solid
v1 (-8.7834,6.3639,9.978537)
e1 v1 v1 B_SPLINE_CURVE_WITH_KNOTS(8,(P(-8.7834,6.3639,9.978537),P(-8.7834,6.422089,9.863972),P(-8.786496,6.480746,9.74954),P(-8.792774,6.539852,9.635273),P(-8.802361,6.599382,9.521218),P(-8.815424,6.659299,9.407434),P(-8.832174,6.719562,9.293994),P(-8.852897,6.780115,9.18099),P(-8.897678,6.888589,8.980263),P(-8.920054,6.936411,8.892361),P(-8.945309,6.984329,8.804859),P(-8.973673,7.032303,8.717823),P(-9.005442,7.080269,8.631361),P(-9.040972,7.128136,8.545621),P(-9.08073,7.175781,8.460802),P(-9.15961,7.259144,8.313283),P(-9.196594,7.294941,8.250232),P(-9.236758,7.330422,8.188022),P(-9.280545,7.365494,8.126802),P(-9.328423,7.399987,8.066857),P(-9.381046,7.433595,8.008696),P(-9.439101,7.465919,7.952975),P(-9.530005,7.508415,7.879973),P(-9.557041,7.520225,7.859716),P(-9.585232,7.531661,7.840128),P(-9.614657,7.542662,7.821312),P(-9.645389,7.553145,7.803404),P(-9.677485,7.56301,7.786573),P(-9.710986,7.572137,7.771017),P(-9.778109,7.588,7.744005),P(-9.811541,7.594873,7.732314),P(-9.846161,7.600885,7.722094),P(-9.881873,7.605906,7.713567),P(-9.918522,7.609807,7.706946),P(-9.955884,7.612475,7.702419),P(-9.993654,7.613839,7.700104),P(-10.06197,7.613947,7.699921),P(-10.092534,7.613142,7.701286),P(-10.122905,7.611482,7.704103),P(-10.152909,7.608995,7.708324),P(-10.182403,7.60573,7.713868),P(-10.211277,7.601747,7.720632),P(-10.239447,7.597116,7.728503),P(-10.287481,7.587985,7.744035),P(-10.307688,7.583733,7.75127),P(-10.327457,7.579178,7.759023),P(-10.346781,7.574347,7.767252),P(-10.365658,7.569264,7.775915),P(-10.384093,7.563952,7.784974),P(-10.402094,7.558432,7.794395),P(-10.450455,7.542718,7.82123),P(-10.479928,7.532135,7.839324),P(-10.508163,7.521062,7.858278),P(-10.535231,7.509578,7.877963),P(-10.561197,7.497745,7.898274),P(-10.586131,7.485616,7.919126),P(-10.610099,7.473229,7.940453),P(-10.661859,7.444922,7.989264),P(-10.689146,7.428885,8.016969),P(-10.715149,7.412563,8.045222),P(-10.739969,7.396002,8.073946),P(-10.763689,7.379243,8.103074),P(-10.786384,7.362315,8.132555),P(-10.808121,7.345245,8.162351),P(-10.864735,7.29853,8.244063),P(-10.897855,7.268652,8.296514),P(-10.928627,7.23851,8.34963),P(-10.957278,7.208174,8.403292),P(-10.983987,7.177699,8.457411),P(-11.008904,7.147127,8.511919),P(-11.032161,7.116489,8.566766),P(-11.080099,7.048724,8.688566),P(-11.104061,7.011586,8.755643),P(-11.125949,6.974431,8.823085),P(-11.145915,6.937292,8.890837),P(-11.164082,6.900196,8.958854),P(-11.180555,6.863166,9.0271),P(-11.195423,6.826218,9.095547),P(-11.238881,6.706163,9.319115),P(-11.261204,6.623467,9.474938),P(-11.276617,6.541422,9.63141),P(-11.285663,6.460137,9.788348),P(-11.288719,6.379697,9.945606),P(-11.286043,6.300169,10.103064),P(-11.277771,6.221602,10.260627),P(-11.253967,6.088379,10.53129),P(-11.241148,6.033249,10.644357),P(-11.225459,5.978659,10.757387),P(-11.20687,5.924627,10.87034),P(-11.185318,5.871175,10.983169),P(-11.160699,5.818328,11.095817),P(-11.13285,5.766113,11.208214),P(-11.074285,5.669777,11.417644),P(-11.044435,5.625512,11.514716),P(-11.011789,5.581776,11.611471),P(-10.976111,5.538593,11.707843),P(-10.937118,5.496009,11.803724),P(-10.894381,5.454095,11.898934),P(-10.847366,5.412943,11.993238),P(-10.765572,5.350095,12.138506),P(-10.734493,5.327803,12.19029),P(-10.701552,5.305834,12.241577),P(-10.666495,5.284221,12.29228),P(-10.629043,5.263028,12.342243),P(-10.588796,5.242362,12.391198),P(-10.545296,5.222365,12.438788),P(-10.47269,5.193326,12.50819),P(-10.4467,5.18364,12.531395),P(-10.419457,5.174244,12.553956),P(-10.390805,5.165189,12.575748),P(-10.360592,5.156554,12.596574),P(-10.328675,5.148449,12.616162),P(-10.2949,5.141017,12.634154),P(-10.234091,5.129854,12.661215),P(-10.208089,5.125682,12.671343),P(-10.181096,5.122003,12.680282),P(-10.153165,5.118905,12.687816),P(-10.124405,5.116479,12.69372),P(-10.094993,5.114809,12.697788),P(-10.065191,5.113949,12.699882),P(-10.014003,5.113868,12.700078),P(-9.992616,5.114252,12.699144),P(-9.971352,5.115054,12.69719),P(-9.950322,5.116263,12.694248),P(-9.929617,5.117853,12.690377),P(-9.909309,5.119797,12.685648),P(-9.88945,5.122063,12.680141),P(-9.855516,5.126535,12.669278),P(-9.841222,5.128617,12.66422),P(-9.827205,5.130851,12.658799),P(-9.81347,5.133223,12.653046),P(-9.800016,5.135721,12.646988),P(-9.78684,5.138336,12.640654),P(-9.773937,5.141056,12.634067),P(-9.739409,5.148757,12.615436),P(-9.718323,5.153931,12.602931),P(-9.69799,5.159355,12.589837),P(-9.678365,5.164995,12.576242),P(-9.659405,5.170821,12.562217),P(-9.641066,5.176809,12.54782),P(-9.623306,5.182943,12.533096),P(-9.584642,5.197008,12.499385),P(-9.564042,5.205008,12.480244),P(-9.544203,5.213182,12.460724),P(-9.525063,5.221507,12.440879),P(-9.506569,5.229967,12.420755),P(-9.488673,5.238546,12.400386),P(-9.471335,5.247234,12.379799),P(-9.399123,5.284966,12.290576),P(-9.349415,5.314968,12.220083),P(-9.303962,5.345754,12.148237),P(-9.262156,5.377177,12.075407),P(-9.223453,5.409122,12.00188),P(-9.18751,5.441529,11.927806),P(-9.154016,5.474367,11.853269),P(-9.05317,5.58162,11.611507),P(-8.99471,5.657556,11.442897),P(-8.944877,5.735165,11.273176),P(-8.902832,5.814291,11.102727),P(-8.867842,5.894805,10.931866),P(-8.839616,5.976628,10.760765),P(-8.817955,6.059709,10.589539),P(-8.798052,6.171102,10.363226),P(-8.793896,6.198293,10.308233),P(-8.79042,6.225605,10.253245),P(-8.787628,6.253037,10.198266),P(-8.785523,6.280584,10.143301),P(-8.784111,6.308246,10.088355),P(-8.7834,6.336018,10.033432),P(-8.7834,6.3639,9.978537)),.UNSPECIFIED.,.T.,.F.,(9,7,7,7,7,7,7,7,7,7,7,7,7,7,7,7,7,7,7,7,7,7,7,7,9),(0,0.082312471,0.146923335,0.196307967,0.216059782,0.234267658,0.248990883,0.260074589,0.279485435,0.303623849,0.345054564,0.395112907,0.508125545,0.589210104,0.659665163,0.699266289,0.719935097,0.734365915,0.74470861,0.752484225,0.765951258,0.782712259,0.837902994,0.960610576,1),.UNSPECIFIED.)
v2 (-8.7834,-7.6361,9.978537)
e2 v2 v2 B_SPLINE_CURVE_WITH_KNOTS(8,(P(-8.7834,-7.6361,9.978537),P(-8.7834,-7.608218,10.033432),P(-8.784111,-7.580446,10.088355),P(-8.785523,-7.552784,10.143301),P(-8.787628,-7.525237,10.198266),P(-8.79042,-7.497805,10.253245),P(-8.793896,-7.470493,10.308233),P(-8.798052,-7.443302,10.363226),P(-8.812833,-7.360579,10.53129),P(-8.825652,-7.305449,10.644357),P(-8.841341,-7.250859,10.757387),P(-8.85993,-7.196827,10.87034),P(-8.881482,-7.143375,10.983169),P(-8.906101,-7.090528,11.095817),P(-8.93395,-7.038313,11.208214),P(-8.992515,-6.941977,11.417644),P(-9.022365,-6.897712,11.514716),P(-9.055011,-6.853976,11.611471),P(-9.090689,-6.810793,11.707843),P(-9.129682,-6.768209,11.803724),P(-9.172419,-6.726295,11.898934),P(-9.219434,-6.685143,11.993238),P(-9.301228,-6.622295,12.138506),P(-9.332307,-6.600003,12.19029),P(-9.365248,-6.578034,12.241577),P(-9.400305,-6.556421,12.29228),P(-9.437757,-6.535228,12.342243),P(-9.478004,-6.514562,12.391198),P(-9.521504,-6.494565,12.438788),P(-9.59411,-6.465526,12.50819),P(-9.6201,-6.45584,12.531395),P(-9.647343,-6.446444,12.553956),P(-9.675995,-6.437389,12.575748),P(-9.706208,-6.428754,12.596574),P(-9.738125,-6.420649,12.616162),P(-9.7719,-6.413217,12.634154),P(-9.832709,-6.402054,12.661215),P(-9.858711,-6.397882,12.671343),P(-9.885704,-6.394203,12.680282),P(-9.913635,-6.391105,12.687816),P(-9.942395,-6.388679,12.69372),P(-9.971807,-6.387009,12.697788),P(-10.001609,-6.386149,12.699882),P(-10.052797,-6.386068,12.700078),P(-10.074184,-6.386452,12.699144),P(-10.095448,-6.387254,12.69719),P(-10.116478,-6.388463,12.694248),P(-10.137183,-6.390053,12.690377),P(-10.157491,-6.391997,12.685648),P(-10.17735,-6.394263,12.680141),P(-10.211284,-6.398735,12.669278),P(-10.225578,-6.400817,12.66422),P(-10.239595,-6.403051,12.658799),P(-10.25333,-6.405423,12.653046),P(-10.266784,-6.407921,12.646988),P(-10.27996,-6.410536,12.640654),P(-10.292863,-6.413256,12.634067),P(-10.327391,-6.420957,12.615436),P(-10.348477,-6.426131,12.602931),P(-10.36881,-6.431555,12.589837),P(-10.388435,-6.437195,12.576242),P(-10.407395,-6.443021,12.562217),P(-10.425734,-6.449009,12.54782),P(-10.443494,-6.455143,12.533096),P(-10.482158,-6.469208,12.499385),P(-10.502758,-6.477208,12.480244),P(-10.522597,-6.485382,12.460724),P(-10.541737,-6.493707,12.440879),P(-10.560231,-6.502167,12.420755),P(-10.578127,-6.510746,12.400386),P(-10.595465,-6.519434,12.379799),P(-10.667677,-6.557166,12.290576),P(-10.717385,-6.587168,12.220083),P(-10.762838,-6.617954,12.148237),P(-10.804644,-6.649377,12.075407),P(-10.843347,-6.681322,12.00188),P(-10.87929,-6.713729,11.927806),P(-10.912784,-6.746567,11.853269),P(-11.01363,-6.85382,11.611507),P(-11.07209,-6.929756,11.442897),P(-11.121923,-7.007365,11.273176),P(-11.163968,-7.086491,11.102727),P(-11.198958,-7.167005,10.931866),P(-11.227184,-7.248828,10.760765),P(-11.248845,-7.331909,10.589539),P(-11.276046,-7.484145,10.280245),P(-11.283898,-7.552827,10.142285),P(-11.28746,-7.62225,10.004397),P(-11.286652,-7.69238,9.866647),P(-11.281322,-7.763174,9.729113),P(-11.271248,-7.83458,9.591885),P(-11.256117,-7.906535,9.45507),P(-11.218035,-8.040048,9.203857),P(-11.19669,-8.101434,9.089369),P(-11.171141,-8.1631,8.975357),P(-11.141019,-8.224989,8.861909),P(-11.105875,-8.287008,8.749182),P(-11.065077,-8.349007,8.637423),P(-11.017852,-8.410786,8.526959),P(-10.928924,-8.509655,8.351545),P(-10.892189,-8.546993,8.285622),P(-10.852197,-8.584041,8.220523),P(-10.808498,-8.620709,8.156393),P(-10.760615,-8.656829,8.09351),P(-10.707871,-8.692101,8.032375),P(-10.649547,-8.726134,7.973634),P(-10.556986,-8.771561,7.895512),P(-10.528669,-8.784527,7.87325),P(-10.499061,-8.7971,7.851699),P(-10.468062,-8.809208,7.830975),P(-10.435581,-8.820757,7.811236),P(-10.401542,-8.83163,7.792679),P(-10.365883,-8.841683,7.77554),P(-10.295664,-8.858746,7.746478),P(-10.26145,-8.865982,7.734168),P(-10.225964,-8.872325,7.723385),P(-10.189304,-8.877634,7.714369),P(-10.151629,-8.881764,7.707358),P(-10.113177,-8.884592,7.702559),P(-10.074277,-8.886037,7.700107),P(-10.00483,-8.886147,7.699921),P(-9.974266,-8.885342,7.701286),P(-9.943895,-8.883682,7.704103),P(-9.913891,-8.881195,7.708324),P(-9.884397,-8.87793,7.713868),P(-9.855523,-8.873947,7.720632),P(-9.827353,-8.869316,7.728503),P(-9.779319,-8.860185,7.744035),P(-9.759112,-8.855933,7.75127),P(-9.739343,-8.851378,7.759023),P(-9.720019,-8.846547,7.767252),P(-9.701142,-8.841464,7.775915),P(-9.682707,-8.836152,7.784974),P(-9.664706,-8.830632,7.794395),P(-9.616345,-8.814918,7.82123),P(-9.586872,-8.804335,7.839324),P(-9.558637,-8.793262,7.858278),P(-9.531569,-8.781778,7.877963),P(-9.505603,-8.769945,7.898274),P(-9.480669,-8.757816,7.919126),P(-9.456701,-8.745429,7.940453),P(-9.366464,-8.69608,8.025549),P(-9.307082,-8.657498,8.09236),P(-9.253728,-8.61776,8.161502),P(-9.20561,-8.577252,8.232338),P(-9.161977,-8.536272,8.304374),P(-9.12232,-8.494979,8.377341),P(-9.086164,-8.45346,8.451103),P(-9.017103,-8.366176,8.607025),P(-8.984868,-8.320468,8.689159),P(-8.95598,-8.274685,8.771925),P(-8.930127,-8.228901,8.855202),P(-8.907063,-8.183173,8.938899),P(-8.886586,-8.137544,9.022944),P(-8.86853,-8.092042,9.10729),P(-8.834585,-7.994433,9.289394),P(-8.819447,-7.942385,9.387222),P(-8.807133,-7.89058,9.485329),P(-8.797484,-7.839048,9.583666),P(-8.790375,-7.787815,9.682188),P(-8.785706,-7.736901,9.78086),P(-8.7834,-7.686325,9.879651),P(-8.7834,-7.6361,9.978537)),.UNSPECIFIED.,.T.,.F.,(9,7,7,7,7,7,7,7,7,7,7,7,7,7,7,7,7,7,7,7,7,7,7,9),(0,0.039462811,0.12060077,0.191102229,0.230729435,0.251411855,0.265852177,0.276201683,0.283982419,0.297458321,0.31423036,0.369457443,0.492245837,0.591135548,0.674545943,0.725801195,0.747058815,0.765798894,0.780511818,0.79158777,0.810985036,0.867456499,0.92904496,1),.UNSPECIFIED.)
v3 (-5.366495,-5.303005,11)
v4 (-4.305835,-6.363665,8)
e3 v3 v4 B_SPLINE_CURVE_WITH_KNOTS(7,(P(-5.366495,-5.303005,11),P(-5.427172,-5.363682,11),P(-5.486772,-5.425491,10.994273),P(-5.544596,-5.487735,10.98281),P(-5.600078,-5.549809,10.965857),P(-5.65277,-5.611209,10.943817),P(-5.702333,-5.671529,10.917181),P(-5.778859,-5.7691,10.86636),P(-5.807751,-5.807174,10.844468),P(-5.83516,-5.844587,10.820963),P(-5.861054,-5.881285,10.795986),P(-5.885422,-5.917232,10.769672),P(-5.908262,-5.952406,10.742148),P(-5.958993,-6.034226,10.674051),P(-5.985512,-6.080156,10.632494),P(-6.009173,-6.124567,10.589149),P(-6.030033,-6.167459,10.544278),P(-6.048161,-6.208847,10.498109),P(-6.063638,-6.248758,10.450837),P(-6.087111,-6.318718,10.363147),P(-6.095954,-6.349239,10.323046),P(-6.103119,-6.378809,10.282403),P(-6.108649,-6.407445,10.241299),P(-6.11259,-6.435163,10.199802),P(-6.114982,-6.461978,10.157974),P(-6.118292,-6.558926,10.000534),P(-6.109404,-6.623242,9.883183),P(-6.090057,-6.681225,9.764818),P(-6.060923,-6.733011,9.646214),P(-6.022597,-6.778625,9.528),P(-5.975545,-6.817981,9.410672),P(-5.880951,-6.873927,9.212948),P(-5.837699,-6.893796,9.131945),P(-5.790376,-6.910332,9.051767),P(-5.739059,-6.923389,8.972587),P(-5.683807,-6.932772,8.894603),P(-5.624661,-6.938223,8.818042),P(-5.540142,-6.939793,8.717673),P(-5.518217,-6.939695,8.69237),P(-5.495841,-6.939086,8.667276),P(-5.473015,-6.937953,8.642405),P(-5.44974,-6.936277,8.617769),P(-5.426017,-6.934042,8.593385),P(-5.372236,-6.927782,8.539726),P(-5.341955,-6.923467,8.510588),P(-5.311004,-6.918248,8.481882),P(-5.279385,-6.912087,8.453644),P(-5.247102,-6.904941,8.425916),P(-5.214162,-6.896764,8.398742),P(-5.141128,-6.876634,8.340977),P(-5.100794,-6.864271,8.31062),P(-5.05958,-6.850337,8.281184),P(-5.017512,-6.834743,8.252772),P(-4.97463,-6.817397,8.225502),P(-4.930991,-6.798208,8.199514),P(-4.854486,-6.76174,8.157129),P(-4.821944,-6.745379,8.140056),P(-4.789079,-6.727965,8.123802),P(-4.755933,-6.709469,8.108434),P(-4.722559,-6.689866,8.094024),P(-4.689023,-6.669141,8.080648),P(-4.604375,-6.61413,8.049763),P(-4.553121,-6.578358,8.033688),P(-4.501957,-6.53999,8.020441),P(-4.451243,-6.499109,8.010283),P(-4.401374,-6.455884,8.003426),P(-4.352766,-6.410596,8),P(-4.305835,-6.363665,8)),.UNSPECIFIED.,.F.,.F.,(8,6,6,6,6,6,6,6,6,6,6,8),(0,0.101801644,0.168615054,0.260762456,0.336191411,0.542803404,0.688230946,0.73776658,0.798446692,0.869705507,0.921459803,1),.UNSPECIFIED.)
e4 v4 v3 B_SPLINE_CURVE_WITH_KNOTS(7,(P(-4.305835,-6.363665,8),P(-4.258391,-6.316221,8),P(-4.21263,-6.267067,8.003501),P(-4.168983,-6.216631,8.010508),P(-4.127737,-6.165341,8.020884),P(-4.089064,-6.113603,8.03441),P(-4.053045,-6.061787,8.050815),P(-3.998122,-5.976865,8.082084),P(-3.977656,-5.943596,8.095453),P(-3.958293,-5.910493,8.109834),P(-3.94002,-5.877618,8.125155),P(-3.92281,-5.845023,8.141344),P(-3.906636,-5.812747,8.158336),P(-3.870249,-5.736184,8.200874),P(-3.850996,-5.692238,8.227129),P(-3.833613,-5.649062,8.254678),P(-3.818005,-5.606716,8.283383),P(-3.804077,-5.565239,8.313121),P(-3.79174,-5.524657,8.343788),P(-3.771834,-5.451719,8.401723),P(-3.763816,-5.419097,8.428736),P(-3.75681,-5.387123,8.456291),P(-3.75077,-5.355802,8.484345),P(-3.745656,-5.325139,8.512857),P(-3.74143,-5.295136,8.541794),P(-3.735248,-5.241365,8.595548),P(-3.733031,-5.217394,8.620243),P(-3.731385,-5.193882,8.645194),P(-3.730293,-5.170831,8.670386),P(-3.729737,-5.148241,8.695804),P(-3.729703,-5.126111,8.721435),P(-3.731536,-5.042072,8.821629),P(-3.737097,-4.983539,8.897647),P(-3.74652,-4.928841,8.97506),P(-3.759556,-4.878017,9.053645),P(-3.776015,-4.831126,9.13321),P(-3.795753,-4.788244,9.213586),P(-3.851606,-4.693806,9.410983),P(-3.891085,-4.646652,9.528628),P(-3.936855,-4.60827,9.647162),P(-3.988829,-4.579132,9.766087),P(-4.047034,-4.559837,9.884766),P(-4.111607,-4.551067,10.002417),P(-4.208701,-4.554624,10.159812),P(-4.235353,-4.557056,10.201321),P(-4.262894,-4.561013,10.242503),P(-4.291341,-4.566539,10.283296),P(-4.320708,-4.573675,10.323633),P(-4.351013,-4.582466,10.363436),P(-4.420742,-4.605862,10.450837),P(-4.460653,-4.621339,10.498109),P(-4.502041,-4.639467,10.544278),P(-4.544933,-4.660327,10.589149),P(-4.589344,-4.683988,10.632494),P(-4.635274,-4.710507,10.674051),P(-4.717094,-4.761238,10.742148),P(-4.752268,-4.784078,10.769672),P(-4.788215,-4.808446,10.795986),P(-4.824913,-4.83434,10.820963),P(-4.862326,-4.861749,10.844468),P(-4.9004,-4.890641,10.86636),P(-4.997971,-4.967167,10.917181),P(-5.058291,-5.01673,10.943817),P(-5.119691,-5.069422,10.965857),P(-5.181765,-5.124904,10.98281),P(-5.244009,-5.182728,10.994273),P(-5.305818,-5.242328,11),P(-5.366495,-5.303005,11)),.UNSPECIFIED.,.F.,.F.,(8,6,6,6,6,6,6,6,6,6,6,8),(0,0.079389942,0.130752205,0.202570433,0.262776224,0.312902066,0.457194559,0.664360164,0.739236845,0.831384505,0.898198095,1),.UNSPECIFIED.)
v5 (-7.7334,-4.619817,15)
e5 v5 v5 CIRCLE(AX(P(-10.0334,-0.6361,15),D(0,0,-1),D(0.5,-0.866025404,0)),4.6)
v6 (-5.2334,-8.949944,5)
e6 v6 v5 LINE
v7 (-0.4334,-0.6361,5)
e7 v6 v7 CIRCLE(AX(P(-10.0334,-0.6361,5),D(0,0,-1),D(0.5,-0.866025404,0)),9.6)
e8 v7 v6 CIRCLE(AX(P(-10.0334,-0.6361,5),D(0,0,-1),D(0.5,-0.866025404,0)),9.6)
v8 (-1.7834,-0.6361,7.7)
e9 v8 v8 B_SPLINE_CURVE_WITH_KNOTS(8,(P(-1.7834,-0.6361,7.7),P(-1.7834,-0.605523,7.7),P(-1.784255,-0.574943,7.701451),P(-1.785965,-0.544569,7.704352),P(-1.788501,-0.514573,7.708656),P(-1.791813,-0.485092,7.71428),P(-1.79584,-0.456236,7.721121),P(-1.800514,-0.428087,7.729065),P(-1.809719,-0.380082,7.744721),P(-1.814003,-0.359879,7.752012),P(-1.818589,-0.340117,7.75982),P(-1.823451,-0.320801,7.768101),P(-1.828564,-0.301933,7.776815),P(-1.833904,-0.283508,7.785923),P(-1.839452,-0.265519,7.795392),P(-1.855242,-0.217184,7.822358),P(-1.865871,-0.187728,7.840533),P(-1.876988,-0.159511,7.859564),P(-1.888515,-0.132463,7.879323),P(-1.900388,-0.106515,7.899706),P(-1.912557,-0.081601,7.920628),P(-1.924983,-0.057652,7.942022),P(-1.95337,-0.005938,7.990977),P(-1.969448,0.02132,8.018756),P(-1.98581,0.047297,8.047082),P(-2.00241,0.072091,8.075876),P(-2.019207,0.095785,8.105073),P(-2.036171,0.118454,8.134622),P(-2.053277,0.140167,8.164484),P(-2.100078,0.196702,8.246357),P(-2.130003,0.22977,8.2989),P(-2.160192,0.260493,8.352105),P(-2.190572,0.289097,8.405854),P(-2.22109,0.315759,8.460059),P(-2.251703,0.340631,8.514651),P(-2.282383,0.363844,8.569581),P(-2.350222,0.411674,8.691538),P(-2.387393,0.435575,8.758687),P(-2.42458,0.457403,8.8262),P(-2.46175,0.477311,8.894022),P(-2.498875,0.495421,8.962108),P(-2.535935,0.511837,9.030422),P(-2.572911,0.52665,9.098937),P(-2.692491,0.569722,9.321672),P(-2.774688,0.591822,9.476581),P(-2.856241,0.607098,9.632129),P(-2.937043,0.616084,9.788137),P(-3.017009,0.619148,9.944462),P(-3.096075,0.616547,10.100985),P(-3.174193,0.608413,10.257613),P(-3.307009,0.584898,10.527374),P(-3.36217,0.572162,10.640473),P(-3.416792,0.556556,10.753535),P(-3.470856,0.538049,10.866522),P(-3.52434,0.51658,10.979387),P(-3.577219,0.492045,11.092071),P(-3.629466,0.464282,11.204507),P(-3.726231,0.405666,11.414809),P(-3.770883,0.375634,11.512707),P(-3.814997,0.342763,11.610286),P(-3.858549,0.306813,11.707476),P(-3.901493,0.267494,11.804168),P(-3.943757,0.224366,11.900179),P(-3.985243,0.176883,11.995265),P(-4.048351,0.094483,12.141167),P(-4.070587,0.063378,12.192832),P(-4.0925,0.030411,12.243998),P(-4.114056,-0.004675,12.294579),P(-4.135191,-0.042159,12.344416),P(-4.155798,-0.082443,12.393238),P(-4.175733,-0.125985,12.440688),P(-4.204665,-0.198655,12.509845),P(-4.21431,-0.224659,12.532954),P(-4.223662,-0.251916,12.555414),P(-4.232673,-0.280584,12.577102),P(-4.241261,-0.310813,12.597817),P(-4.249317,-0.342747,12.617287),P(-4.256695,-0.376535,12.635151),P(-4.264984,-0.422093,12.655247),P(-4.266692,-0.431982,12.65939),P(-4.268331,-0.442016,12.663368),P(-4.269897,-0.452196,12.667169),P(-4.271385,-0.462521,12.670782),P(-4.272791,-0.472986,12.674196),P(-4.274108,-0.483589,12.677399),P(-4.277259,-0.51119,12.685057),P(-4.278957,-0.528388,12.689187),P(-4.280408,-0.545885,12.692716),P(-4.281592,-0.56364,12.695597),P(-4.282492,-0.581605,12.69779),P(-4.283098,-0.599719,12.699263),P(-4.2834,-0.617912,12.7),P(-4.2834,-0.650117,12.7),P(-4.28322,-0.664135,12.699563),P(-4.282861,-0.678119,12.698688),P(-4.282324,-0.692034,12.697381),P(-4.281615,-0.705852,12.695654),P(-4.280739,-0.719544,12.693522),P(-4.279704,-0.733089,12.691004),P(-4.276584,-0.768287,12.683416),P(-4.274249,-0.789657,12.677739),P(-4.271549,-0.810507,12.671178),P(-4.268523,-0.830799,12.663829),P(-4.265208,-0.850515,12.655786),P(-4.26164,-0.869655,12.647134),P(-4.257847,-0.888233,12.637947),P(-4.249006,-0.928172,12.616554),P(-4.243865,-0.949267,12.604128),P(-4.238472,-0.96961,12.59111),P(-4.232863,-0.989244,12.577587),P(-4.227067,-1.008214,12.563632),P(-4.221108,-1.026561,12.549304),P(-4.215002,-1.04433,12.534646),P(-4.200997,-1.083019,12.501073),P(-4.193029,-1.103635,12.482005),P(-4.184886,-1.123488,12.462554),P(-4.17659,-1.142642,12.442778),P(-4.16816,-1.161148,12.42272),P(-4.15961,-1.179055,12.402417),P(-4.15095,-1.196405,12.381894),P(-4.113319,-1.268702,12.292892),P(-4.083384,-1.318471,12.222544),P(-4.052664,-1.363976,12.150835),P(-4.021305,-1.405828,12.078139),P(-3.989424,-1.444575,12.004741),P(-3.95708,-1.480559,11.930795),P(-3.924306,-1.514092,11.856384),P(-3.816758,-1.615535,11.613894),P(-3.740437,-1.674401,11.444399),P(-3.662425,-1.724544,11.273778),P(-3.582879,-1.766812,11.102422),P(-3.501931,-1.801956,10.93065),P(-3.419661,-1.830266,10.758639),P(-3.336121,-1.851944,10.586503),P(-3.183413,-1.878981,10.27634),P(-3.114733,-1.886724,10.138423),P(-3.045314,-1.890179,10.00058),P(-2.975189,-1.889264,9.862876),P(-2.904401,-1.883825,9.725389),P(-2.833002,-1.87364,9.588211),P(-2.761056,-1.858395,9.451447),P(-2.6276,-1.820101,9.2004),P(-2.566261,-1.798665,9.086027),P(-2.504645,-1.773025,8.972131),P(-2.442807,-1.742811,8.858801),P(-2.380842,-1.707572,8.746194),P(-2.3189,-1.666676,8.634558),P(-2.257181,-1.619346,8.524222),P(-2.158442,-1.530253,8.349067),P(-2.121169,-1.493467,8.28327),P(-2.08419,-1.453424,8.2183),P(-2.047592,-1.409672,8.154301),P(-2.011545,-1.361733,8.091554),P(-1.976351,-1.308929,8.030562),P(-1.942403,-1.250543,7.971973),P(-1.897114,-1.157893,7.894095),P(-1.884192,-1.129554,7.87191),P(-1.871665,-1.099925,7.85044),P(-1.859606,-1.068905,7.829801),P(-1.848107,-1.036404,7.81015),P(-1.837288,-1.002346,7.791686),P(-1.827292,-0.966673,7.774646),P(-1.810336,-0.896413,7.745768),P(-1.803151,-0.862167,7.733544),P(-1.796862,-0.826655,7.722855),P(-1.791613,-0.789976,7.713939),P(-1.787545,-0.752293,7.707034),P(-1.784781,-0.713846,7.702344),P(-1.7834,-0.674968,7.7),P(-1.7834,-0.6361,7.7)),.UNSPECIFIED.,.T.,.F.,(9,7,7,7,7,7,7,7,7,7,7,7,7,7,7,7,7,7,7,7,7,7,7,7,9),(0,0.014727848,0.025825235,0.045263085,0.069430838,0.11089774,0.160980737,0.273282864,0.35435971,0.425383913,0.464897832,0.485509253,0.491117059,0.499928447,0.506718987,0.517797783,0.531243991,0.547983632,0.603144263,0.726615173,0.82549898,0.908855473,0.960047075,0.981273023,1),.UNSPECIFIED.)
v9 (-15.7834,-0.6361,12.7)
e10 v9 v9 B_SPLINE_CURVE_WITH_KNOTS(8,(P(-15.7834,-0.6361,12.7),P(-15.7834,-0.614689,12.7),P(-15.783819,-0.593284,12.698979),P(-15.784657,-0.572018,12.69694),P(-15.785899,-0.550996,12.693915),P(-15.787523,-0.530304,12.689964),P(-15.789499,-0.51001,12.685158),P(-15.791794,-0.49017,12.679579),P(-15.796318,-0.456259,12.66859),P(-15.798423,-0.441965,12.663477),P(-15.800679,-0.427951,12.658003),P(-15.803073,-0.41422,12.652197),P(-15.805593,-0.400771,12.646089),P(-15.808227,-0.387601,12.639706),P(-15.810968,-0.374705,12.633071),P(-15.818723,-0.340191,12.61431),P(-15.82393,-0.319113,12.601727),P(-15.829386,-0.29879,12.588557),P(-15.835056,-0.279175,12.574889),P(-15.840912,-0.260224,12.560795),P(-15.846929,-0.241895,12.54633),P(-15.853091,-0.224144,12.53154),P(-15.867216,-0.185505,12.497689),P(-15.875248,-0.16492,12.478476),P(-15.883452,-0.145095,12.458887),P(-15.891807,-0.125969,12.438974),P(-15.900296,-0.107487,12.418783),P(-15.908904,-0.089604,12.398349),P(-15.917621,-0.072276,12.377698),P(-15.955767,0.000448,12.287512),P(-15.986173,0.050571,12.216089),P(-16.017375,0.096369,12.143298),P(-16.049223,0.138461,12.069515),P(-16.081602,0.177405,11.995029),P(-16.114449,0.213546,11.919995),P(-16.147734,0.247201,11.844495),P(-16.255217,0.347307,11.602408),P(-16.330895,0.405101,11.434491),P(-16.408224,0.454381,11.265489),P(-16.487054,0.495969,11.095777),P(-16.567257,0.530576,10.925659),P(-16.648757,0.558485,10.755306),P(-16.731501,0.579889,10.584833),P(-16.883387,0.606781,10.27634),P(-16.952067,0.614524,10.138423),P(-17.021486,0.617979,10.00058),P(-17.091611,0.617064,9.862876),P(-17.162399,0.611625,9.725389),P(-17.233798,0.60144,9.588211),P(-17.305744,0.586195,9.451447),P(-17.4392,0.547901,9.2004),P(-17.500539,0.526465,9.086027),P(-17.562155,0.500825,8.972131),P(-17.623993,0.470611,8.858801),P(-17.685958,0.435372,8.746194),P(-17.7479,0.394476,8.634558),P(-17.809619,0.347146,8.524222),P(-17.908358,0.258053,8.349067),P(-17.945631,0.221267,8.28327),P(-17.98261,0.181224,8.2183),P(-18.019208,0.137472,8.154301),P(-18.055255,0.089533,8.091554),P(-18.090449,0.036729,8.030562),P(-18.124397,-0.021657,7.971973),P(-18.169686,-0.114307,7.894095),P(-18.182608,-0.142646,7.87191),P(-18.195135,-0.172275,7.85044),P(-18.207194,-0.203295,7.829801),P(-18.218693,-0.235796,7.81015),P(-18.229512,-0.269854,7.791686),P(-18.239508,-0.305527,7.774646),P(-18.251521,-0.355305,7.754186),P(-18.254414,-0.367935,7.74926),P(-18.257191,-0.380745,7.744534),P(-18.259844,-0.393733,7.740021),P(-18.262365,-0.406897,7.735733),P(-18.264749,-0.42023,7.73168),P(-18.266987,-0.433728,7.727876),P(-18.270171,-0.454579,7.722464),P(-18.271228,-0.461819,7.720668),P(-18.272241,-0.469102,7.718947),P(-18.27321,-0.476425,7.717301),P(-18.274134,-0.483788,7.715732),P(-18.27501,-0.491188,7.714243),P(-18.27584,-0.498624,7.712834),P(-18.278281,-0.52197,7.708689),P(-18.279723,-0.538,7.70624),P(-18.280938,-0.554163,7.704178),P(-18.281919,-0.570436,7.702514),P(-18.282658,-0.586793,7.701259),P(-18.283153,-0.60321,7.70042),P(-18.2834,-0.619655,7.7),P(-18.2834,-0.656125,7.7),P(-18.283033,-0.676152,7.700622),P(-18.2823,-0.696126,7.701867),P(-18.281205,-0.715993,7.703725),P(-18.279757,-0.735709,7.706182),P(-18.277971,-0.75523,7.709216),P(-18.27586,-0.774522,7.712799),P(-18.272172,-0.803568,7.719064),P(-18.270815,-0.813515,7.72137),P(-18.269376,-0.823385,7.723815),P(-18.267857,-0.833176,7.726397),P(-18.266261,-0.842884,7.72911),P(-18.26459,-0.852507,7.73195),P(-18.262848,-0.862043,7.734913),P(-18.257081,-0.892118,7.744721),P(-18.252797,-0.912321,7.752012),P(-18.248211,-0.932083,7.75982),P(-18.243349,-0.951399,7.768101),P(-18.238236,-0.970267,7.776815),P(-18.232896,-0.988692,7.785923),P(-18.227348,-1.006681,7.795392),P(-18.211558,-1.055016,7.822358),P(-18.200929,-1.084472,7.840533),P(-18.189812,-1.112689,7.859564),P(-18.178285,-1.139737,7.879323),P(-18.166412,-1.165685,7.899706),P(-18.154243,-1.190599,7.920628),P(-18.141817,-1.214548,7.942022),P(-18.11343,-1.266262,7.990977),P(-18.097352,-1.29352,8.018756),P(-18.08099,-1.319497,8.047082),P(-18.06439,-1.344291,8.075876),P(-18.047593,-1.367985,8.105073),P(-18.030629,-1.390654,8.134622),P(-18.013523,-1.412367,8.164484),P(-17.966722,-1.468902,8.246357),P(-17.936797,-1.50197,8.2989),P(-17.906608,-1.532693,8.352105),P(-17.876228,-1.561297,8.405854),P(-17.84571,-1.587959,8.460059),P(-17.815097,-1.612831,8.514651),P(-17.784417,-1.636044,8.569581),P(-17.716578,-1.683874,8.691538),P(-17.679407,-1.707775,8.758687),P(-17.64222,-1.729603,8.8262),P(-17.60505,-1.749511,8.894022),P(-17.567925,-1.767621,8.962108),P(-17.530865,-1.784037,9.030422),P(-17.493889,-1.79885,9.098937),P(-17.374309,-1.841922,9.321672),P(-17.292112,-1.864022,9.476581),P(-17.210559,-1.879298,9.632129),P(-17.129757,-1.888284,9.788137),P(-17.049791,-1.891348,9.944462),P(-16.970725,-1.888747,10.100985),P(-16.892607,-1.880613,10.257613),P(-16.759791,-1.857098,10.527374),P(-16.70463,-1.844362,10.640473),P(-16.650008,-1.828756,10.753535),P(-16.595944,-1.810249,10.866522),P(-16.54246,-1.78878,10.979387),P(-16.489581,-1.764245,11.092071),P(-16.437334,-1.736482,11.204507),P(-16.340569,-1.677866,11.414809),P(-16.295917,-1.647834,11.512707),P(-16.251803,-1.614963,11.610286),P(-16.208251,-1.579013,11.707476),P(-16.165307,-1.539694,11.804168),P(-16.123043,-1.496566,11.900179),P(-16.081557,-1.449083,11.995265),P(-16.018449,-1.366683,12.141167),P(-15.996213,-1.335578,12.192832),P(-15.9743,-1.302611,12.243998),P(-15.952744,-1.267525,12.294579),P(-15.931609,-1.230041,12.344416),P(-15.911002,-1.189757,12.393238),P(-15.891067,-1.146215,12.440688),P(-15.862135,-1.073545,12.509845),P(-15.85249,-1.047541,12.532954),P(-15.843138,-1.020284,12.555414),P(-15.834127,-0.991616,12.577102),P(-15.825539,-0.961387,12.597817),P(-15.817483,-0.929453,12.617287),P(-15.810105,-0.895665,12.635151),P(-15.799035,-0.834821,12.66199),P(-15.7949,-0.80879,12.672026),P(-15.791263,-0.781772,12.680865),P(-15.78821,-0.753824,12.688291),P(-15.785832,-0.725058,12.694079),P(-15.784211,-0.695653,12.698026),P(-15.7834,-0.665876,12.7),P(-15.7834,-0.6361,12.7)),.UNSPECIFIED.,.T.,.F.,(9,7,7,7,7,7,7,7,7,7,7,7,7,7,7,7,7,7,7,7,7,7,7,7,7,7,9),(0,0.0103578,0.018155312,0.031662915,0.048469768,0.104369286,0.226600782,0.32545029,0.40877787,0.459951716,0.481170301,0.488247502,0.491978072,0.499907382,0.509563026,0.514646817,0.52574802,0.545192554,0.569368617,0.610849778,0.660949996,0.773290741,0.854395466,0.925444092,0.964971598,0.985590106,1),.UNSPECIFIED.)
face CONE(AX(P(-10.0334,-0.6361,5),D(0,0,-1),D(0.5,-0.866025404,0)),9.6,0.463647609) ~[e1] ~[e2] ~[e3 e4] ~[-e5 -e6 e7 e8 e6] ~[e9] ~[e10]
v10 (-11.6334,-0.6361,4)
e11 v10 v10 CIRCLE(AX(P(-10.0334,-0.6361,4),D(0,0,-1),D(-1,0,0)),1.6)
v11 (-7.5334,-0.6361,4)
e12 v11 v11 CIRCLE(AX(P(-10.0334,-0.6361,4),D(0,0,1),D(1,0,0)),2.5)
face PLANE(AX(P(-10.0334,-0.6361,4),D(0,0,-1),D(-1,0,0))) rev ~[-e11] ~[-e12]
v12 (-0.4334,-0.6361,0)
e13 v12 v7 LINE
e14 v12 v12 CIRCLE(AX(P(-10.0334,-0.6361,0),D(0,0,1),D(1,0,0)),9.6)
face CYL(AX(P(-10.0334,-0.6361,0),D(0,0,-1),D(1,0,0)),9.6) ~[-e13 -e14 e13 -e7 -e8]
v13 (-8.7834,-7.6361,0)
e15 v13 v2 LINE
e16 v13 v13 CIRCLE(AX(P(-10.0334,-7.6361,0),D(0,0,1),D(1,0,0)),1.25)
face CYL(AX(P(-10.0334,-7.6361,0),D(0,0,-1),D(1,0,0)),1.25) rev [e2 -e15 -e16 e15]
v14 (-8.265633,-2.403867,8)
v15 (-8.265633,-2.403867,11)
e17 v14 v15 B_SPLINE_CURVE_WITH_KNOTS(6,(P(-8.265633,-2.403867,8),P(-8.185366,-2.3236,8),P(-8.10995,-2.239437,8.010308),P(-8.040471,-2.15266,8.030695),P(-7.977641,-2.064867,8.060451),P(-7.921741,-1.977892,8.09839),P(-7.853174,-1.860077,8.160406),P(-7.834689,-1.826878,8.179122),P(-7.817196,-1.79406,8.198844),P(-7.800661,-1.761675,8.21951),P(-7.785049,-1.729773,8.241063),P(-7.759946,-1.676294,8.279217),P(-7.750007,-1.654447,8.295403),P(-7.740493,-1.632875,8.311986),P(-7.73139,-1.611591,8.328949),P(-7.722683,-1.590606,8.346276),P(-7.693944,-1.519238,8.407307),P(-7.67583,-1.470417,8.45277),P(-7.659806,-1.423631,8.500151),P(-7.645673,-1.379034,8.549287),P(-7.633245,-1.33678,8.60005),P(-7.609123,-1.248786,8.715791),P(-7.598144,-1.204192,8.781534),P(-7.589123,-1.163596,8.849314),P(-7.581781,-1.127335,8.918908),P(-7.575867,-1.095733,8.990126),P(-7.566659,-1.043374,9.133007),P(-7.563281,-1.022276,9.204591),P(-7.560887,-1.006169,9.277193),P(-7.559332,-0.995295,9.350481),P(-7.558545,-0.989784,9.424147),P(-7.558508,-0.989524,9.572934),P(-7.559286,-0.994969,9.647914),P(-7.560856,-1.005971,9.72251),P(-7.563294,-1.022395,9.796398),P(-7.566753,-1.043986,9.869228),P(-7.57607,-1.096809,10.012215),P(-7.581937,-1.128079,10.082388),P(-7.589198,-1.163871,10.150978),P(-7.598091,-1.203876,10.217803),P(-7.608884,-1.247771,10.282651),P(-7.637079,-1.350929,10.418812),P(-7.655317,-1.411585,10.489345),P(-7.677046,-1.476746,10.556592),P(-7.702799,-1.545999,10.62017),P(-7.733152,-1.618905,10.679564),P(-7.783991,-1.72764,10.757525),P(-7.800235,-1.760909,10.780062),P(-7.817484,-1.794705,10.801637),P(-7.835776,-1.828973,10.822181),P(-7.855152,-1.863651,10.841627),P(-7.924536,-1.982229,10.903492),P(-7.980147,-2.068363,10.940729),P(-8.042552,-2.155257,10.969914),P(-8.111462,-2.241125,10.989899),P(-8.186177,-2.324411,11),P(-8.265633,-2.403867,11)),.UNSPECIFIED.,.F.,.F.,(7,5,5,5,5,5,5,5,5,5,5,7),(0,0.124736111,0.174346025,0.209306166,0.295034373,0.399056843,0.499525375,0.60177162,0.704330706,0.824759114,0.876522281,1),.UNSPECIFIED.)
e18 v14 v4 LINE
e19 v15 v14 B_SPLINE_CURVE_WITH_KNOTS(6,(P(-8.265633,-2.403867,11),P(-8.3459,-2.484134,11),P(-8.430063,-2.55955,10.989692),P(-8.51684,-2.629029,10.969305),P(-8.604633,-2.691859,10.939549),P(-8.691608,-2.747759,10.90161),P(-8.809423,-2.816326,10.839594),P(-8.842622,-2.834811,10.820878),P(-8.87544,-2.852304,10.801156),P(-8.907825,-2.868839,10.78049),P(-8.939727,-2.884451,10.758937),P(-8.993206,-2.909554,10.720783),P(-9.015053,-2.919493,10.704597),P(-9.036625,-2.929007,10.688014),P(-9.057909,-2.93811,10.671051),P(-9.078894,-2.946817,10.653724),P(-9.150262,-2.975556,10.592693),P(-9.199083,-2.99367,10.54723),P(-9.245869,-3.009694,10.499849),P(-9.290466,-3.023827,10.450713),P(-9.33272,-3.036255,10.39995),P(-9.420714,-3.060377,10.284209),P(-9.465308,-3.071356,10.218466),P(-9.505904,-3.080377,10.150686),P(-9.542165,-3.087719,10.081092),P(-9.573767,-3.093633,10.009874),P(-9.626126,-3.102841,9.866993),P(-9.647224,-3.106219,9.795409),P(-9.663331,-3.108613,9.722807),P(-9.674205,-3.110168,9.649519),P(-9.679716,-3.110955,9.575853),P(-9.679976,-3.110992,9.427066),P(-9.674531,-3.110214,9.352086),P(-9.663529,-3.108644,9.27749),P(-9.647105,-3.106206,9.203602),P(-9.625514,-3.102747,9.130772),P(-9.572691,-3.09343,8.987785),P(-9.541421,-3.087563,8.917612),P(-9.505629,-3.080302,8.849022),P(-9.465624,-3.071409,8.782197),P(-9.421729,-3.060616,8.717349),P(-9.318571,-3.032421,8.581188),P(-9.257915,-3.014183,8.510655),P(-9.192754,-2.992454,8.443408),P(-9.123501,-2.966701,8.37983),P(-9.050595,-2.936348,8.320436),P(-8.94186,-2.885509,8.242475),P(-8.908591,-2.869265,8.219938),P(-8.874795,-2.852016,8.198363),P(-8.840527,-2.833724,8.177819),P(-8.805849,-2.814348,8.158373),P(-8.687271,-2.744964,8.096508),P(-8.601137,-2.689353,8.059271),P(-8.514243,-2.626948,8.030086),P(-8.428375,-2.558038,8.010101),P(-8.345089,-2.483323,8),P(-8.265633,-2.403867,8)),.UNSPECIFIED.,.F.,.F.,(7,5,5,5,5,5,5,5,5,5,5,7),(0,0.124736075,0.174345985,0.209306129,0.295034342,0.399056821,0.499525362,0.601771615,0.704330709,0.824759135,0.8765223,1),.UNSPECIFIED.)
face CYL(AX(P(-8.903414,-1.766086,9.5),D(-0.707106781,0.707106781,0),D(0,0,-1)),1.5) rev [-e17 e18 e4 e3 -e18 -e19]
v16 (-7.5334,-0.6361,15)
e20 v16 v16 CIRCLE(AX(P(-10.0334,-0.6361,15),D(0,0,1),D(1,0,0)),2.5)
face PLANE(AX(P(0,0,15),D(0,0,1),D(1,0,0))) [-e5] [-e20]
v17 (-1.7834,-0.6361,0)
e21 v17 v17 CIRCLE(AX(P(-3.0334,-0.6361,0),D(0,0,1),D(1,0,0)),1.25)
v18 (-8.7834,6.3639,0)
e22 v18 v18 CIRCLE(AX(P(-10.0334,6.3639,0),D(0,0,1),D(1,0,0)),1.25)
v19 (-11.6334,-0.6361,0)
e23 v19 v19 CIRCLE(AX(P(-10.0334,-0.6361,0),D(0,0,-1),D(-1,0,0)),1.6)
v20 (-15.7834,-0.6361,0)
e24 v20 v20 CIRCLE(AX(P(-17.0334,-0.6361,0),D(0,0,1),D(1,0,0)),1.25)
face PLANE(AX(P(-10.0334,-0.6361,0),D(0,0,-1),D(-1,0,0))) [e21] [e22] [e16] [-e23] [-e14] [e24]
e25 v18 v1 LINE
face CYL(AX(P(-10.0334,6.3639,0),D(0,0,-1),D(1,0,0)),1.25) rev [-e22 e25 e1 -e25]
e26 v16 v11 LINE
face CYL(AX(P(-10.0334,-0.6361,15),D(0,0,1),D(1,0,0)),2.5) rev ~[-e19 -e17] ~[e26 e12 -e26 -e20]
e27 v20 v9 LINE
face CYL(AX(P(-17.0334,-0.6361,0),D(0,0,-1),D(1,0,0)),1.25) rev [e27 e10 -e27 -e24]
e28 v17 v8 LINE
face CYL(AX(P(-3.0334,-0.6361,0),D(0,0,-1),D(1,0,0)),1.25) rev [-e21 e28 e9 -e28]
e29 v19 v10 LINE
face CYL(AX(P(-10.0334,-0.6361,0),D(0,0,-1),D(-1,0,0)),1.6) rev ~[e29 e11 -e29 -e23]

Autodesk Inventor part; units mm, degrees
ref_plane "YZ Plane" through (0, 0, 0) normal (1, 0, 0) x (0, 1, 0)
ref_plane "XZ Plane" through (0, 0, 0) normal (0, 1, 0) x (-1, 0, 0)
ref_plane "XY Plane" through (0, 0, 0) normal (0, 0, 1) x (1, 0, 0)
sketch "Sketch1" plane through (0, 0, 0) normal (0, 0, 1) x (1, 0, 0)
  circle A0 centre (-10.0334, -0.6361) radius 9.6 projected
  circle A1 centre (-10.0334, 6.3639) radius 1.25 projected
  circle A2 centre (-3.0334, -0.6361) radius 1.25 projected
  circle A3 centre (-17.0334, -0.6361) radius 1.25 projected
  circle A4 centre (-10.0334, -7.6361) radius 1.25 projected
  point P0 (0, 0)
extrude "Extrusion1" add sketch "Sketch1" along normal blind 15
sketch "Sketch2" plane through (-10.0334, -0.6361, 15) normal (0, 0, 1) x (1, 0, 0)
  circle A0 centre (0, 0) radius 2.5
  point P0 (10.0334, 0.6361)
  dimension "d2" = 5
extrude "Extrusion2" cut sketch "Sketch2" against normal through all
ref_plane "Work Plane2" through (-10.0334, -0.6361, 15) normal (-0.866, -0.5, 0) x (0, 0, -1)
ref_plane "Work Plane1" through (54.8563, 26.4356, 21.5) normal (0.5, -0.866, 0) x (-0.2494, -0.144, -0.9577)
sketch "Sketch3" plane through (-10.0334, -0.6361, 15) normal (-0.866, -0.5, 0) x (0, 0, -1)
  line L0 (0, 9.6) -> (0, -9.6) projected
  line L1 (0, 9.6) -> (10, 9.6)
  line L2 (15, 9.6) -> (0, 9.6) projected
  line L3 (15, 9.6) -> (15, 4.6)
  line L4 (15, 9.6) -> (15, -9.6) projected
  line L5 (10, 9.6) -> (15, 4.6)
  line L6 (-3, 0) -> (18, 0) projected
  line L7 (10, 9.6) -> (0, 4.6)
  point P0 (15, 4.4658)
  point P1 (10, 9.6)
  dimension "d6" = 10
  dimension "d7" = 5
revolve "Revolution1" cut sketch "Sketch3" angle 360 about axis through (-10.0334, -0.6361, 15) along (0, 0, -1) contours L1 L7 L0
sketch "Sketch4" plane through (-10.0334, -0.6361, 0) normal (0, 0, -1) x (-1, 0, 0)
  circle A0 centre (0, 0) radius 2.5
  circle A1 centre (0, 0) radius 1.6
  point P0 (-10.0334, 0.6361)
  dimension "d9" = 3.2
extrude "Extrusion3" add sketch "Sketch4" against normal blind 4
ref_plane "Work Plane6" through (-8.902, -1.7675, 0) normal (0.7071, -0.7071, 0) x (0, 0, -1)
sketch "Sketch7" plane through (-8.902, -1.7675, 0) normal (0.7071, -0.7071, 0) x (0, 0, -1)
  line L0 (-15, -2.5) -> (-15, 2.5) projected
  line L1 (-15, 0) -> (-9.5, 0)
  circle A0 centre (-9.5, 0) radius 1.5
  point P0 (0, 7.5445)
  dimension "d16" = 5.5
  dimension "d17" = 3
extrude "Extrusion4" cut sketch "Sketch7" along normal blind 10
thread "Thread1" size "M3x0.5" class "6H" standard "ANSI Metric M Profile" full length
properties part number "servo_rod_connector"
